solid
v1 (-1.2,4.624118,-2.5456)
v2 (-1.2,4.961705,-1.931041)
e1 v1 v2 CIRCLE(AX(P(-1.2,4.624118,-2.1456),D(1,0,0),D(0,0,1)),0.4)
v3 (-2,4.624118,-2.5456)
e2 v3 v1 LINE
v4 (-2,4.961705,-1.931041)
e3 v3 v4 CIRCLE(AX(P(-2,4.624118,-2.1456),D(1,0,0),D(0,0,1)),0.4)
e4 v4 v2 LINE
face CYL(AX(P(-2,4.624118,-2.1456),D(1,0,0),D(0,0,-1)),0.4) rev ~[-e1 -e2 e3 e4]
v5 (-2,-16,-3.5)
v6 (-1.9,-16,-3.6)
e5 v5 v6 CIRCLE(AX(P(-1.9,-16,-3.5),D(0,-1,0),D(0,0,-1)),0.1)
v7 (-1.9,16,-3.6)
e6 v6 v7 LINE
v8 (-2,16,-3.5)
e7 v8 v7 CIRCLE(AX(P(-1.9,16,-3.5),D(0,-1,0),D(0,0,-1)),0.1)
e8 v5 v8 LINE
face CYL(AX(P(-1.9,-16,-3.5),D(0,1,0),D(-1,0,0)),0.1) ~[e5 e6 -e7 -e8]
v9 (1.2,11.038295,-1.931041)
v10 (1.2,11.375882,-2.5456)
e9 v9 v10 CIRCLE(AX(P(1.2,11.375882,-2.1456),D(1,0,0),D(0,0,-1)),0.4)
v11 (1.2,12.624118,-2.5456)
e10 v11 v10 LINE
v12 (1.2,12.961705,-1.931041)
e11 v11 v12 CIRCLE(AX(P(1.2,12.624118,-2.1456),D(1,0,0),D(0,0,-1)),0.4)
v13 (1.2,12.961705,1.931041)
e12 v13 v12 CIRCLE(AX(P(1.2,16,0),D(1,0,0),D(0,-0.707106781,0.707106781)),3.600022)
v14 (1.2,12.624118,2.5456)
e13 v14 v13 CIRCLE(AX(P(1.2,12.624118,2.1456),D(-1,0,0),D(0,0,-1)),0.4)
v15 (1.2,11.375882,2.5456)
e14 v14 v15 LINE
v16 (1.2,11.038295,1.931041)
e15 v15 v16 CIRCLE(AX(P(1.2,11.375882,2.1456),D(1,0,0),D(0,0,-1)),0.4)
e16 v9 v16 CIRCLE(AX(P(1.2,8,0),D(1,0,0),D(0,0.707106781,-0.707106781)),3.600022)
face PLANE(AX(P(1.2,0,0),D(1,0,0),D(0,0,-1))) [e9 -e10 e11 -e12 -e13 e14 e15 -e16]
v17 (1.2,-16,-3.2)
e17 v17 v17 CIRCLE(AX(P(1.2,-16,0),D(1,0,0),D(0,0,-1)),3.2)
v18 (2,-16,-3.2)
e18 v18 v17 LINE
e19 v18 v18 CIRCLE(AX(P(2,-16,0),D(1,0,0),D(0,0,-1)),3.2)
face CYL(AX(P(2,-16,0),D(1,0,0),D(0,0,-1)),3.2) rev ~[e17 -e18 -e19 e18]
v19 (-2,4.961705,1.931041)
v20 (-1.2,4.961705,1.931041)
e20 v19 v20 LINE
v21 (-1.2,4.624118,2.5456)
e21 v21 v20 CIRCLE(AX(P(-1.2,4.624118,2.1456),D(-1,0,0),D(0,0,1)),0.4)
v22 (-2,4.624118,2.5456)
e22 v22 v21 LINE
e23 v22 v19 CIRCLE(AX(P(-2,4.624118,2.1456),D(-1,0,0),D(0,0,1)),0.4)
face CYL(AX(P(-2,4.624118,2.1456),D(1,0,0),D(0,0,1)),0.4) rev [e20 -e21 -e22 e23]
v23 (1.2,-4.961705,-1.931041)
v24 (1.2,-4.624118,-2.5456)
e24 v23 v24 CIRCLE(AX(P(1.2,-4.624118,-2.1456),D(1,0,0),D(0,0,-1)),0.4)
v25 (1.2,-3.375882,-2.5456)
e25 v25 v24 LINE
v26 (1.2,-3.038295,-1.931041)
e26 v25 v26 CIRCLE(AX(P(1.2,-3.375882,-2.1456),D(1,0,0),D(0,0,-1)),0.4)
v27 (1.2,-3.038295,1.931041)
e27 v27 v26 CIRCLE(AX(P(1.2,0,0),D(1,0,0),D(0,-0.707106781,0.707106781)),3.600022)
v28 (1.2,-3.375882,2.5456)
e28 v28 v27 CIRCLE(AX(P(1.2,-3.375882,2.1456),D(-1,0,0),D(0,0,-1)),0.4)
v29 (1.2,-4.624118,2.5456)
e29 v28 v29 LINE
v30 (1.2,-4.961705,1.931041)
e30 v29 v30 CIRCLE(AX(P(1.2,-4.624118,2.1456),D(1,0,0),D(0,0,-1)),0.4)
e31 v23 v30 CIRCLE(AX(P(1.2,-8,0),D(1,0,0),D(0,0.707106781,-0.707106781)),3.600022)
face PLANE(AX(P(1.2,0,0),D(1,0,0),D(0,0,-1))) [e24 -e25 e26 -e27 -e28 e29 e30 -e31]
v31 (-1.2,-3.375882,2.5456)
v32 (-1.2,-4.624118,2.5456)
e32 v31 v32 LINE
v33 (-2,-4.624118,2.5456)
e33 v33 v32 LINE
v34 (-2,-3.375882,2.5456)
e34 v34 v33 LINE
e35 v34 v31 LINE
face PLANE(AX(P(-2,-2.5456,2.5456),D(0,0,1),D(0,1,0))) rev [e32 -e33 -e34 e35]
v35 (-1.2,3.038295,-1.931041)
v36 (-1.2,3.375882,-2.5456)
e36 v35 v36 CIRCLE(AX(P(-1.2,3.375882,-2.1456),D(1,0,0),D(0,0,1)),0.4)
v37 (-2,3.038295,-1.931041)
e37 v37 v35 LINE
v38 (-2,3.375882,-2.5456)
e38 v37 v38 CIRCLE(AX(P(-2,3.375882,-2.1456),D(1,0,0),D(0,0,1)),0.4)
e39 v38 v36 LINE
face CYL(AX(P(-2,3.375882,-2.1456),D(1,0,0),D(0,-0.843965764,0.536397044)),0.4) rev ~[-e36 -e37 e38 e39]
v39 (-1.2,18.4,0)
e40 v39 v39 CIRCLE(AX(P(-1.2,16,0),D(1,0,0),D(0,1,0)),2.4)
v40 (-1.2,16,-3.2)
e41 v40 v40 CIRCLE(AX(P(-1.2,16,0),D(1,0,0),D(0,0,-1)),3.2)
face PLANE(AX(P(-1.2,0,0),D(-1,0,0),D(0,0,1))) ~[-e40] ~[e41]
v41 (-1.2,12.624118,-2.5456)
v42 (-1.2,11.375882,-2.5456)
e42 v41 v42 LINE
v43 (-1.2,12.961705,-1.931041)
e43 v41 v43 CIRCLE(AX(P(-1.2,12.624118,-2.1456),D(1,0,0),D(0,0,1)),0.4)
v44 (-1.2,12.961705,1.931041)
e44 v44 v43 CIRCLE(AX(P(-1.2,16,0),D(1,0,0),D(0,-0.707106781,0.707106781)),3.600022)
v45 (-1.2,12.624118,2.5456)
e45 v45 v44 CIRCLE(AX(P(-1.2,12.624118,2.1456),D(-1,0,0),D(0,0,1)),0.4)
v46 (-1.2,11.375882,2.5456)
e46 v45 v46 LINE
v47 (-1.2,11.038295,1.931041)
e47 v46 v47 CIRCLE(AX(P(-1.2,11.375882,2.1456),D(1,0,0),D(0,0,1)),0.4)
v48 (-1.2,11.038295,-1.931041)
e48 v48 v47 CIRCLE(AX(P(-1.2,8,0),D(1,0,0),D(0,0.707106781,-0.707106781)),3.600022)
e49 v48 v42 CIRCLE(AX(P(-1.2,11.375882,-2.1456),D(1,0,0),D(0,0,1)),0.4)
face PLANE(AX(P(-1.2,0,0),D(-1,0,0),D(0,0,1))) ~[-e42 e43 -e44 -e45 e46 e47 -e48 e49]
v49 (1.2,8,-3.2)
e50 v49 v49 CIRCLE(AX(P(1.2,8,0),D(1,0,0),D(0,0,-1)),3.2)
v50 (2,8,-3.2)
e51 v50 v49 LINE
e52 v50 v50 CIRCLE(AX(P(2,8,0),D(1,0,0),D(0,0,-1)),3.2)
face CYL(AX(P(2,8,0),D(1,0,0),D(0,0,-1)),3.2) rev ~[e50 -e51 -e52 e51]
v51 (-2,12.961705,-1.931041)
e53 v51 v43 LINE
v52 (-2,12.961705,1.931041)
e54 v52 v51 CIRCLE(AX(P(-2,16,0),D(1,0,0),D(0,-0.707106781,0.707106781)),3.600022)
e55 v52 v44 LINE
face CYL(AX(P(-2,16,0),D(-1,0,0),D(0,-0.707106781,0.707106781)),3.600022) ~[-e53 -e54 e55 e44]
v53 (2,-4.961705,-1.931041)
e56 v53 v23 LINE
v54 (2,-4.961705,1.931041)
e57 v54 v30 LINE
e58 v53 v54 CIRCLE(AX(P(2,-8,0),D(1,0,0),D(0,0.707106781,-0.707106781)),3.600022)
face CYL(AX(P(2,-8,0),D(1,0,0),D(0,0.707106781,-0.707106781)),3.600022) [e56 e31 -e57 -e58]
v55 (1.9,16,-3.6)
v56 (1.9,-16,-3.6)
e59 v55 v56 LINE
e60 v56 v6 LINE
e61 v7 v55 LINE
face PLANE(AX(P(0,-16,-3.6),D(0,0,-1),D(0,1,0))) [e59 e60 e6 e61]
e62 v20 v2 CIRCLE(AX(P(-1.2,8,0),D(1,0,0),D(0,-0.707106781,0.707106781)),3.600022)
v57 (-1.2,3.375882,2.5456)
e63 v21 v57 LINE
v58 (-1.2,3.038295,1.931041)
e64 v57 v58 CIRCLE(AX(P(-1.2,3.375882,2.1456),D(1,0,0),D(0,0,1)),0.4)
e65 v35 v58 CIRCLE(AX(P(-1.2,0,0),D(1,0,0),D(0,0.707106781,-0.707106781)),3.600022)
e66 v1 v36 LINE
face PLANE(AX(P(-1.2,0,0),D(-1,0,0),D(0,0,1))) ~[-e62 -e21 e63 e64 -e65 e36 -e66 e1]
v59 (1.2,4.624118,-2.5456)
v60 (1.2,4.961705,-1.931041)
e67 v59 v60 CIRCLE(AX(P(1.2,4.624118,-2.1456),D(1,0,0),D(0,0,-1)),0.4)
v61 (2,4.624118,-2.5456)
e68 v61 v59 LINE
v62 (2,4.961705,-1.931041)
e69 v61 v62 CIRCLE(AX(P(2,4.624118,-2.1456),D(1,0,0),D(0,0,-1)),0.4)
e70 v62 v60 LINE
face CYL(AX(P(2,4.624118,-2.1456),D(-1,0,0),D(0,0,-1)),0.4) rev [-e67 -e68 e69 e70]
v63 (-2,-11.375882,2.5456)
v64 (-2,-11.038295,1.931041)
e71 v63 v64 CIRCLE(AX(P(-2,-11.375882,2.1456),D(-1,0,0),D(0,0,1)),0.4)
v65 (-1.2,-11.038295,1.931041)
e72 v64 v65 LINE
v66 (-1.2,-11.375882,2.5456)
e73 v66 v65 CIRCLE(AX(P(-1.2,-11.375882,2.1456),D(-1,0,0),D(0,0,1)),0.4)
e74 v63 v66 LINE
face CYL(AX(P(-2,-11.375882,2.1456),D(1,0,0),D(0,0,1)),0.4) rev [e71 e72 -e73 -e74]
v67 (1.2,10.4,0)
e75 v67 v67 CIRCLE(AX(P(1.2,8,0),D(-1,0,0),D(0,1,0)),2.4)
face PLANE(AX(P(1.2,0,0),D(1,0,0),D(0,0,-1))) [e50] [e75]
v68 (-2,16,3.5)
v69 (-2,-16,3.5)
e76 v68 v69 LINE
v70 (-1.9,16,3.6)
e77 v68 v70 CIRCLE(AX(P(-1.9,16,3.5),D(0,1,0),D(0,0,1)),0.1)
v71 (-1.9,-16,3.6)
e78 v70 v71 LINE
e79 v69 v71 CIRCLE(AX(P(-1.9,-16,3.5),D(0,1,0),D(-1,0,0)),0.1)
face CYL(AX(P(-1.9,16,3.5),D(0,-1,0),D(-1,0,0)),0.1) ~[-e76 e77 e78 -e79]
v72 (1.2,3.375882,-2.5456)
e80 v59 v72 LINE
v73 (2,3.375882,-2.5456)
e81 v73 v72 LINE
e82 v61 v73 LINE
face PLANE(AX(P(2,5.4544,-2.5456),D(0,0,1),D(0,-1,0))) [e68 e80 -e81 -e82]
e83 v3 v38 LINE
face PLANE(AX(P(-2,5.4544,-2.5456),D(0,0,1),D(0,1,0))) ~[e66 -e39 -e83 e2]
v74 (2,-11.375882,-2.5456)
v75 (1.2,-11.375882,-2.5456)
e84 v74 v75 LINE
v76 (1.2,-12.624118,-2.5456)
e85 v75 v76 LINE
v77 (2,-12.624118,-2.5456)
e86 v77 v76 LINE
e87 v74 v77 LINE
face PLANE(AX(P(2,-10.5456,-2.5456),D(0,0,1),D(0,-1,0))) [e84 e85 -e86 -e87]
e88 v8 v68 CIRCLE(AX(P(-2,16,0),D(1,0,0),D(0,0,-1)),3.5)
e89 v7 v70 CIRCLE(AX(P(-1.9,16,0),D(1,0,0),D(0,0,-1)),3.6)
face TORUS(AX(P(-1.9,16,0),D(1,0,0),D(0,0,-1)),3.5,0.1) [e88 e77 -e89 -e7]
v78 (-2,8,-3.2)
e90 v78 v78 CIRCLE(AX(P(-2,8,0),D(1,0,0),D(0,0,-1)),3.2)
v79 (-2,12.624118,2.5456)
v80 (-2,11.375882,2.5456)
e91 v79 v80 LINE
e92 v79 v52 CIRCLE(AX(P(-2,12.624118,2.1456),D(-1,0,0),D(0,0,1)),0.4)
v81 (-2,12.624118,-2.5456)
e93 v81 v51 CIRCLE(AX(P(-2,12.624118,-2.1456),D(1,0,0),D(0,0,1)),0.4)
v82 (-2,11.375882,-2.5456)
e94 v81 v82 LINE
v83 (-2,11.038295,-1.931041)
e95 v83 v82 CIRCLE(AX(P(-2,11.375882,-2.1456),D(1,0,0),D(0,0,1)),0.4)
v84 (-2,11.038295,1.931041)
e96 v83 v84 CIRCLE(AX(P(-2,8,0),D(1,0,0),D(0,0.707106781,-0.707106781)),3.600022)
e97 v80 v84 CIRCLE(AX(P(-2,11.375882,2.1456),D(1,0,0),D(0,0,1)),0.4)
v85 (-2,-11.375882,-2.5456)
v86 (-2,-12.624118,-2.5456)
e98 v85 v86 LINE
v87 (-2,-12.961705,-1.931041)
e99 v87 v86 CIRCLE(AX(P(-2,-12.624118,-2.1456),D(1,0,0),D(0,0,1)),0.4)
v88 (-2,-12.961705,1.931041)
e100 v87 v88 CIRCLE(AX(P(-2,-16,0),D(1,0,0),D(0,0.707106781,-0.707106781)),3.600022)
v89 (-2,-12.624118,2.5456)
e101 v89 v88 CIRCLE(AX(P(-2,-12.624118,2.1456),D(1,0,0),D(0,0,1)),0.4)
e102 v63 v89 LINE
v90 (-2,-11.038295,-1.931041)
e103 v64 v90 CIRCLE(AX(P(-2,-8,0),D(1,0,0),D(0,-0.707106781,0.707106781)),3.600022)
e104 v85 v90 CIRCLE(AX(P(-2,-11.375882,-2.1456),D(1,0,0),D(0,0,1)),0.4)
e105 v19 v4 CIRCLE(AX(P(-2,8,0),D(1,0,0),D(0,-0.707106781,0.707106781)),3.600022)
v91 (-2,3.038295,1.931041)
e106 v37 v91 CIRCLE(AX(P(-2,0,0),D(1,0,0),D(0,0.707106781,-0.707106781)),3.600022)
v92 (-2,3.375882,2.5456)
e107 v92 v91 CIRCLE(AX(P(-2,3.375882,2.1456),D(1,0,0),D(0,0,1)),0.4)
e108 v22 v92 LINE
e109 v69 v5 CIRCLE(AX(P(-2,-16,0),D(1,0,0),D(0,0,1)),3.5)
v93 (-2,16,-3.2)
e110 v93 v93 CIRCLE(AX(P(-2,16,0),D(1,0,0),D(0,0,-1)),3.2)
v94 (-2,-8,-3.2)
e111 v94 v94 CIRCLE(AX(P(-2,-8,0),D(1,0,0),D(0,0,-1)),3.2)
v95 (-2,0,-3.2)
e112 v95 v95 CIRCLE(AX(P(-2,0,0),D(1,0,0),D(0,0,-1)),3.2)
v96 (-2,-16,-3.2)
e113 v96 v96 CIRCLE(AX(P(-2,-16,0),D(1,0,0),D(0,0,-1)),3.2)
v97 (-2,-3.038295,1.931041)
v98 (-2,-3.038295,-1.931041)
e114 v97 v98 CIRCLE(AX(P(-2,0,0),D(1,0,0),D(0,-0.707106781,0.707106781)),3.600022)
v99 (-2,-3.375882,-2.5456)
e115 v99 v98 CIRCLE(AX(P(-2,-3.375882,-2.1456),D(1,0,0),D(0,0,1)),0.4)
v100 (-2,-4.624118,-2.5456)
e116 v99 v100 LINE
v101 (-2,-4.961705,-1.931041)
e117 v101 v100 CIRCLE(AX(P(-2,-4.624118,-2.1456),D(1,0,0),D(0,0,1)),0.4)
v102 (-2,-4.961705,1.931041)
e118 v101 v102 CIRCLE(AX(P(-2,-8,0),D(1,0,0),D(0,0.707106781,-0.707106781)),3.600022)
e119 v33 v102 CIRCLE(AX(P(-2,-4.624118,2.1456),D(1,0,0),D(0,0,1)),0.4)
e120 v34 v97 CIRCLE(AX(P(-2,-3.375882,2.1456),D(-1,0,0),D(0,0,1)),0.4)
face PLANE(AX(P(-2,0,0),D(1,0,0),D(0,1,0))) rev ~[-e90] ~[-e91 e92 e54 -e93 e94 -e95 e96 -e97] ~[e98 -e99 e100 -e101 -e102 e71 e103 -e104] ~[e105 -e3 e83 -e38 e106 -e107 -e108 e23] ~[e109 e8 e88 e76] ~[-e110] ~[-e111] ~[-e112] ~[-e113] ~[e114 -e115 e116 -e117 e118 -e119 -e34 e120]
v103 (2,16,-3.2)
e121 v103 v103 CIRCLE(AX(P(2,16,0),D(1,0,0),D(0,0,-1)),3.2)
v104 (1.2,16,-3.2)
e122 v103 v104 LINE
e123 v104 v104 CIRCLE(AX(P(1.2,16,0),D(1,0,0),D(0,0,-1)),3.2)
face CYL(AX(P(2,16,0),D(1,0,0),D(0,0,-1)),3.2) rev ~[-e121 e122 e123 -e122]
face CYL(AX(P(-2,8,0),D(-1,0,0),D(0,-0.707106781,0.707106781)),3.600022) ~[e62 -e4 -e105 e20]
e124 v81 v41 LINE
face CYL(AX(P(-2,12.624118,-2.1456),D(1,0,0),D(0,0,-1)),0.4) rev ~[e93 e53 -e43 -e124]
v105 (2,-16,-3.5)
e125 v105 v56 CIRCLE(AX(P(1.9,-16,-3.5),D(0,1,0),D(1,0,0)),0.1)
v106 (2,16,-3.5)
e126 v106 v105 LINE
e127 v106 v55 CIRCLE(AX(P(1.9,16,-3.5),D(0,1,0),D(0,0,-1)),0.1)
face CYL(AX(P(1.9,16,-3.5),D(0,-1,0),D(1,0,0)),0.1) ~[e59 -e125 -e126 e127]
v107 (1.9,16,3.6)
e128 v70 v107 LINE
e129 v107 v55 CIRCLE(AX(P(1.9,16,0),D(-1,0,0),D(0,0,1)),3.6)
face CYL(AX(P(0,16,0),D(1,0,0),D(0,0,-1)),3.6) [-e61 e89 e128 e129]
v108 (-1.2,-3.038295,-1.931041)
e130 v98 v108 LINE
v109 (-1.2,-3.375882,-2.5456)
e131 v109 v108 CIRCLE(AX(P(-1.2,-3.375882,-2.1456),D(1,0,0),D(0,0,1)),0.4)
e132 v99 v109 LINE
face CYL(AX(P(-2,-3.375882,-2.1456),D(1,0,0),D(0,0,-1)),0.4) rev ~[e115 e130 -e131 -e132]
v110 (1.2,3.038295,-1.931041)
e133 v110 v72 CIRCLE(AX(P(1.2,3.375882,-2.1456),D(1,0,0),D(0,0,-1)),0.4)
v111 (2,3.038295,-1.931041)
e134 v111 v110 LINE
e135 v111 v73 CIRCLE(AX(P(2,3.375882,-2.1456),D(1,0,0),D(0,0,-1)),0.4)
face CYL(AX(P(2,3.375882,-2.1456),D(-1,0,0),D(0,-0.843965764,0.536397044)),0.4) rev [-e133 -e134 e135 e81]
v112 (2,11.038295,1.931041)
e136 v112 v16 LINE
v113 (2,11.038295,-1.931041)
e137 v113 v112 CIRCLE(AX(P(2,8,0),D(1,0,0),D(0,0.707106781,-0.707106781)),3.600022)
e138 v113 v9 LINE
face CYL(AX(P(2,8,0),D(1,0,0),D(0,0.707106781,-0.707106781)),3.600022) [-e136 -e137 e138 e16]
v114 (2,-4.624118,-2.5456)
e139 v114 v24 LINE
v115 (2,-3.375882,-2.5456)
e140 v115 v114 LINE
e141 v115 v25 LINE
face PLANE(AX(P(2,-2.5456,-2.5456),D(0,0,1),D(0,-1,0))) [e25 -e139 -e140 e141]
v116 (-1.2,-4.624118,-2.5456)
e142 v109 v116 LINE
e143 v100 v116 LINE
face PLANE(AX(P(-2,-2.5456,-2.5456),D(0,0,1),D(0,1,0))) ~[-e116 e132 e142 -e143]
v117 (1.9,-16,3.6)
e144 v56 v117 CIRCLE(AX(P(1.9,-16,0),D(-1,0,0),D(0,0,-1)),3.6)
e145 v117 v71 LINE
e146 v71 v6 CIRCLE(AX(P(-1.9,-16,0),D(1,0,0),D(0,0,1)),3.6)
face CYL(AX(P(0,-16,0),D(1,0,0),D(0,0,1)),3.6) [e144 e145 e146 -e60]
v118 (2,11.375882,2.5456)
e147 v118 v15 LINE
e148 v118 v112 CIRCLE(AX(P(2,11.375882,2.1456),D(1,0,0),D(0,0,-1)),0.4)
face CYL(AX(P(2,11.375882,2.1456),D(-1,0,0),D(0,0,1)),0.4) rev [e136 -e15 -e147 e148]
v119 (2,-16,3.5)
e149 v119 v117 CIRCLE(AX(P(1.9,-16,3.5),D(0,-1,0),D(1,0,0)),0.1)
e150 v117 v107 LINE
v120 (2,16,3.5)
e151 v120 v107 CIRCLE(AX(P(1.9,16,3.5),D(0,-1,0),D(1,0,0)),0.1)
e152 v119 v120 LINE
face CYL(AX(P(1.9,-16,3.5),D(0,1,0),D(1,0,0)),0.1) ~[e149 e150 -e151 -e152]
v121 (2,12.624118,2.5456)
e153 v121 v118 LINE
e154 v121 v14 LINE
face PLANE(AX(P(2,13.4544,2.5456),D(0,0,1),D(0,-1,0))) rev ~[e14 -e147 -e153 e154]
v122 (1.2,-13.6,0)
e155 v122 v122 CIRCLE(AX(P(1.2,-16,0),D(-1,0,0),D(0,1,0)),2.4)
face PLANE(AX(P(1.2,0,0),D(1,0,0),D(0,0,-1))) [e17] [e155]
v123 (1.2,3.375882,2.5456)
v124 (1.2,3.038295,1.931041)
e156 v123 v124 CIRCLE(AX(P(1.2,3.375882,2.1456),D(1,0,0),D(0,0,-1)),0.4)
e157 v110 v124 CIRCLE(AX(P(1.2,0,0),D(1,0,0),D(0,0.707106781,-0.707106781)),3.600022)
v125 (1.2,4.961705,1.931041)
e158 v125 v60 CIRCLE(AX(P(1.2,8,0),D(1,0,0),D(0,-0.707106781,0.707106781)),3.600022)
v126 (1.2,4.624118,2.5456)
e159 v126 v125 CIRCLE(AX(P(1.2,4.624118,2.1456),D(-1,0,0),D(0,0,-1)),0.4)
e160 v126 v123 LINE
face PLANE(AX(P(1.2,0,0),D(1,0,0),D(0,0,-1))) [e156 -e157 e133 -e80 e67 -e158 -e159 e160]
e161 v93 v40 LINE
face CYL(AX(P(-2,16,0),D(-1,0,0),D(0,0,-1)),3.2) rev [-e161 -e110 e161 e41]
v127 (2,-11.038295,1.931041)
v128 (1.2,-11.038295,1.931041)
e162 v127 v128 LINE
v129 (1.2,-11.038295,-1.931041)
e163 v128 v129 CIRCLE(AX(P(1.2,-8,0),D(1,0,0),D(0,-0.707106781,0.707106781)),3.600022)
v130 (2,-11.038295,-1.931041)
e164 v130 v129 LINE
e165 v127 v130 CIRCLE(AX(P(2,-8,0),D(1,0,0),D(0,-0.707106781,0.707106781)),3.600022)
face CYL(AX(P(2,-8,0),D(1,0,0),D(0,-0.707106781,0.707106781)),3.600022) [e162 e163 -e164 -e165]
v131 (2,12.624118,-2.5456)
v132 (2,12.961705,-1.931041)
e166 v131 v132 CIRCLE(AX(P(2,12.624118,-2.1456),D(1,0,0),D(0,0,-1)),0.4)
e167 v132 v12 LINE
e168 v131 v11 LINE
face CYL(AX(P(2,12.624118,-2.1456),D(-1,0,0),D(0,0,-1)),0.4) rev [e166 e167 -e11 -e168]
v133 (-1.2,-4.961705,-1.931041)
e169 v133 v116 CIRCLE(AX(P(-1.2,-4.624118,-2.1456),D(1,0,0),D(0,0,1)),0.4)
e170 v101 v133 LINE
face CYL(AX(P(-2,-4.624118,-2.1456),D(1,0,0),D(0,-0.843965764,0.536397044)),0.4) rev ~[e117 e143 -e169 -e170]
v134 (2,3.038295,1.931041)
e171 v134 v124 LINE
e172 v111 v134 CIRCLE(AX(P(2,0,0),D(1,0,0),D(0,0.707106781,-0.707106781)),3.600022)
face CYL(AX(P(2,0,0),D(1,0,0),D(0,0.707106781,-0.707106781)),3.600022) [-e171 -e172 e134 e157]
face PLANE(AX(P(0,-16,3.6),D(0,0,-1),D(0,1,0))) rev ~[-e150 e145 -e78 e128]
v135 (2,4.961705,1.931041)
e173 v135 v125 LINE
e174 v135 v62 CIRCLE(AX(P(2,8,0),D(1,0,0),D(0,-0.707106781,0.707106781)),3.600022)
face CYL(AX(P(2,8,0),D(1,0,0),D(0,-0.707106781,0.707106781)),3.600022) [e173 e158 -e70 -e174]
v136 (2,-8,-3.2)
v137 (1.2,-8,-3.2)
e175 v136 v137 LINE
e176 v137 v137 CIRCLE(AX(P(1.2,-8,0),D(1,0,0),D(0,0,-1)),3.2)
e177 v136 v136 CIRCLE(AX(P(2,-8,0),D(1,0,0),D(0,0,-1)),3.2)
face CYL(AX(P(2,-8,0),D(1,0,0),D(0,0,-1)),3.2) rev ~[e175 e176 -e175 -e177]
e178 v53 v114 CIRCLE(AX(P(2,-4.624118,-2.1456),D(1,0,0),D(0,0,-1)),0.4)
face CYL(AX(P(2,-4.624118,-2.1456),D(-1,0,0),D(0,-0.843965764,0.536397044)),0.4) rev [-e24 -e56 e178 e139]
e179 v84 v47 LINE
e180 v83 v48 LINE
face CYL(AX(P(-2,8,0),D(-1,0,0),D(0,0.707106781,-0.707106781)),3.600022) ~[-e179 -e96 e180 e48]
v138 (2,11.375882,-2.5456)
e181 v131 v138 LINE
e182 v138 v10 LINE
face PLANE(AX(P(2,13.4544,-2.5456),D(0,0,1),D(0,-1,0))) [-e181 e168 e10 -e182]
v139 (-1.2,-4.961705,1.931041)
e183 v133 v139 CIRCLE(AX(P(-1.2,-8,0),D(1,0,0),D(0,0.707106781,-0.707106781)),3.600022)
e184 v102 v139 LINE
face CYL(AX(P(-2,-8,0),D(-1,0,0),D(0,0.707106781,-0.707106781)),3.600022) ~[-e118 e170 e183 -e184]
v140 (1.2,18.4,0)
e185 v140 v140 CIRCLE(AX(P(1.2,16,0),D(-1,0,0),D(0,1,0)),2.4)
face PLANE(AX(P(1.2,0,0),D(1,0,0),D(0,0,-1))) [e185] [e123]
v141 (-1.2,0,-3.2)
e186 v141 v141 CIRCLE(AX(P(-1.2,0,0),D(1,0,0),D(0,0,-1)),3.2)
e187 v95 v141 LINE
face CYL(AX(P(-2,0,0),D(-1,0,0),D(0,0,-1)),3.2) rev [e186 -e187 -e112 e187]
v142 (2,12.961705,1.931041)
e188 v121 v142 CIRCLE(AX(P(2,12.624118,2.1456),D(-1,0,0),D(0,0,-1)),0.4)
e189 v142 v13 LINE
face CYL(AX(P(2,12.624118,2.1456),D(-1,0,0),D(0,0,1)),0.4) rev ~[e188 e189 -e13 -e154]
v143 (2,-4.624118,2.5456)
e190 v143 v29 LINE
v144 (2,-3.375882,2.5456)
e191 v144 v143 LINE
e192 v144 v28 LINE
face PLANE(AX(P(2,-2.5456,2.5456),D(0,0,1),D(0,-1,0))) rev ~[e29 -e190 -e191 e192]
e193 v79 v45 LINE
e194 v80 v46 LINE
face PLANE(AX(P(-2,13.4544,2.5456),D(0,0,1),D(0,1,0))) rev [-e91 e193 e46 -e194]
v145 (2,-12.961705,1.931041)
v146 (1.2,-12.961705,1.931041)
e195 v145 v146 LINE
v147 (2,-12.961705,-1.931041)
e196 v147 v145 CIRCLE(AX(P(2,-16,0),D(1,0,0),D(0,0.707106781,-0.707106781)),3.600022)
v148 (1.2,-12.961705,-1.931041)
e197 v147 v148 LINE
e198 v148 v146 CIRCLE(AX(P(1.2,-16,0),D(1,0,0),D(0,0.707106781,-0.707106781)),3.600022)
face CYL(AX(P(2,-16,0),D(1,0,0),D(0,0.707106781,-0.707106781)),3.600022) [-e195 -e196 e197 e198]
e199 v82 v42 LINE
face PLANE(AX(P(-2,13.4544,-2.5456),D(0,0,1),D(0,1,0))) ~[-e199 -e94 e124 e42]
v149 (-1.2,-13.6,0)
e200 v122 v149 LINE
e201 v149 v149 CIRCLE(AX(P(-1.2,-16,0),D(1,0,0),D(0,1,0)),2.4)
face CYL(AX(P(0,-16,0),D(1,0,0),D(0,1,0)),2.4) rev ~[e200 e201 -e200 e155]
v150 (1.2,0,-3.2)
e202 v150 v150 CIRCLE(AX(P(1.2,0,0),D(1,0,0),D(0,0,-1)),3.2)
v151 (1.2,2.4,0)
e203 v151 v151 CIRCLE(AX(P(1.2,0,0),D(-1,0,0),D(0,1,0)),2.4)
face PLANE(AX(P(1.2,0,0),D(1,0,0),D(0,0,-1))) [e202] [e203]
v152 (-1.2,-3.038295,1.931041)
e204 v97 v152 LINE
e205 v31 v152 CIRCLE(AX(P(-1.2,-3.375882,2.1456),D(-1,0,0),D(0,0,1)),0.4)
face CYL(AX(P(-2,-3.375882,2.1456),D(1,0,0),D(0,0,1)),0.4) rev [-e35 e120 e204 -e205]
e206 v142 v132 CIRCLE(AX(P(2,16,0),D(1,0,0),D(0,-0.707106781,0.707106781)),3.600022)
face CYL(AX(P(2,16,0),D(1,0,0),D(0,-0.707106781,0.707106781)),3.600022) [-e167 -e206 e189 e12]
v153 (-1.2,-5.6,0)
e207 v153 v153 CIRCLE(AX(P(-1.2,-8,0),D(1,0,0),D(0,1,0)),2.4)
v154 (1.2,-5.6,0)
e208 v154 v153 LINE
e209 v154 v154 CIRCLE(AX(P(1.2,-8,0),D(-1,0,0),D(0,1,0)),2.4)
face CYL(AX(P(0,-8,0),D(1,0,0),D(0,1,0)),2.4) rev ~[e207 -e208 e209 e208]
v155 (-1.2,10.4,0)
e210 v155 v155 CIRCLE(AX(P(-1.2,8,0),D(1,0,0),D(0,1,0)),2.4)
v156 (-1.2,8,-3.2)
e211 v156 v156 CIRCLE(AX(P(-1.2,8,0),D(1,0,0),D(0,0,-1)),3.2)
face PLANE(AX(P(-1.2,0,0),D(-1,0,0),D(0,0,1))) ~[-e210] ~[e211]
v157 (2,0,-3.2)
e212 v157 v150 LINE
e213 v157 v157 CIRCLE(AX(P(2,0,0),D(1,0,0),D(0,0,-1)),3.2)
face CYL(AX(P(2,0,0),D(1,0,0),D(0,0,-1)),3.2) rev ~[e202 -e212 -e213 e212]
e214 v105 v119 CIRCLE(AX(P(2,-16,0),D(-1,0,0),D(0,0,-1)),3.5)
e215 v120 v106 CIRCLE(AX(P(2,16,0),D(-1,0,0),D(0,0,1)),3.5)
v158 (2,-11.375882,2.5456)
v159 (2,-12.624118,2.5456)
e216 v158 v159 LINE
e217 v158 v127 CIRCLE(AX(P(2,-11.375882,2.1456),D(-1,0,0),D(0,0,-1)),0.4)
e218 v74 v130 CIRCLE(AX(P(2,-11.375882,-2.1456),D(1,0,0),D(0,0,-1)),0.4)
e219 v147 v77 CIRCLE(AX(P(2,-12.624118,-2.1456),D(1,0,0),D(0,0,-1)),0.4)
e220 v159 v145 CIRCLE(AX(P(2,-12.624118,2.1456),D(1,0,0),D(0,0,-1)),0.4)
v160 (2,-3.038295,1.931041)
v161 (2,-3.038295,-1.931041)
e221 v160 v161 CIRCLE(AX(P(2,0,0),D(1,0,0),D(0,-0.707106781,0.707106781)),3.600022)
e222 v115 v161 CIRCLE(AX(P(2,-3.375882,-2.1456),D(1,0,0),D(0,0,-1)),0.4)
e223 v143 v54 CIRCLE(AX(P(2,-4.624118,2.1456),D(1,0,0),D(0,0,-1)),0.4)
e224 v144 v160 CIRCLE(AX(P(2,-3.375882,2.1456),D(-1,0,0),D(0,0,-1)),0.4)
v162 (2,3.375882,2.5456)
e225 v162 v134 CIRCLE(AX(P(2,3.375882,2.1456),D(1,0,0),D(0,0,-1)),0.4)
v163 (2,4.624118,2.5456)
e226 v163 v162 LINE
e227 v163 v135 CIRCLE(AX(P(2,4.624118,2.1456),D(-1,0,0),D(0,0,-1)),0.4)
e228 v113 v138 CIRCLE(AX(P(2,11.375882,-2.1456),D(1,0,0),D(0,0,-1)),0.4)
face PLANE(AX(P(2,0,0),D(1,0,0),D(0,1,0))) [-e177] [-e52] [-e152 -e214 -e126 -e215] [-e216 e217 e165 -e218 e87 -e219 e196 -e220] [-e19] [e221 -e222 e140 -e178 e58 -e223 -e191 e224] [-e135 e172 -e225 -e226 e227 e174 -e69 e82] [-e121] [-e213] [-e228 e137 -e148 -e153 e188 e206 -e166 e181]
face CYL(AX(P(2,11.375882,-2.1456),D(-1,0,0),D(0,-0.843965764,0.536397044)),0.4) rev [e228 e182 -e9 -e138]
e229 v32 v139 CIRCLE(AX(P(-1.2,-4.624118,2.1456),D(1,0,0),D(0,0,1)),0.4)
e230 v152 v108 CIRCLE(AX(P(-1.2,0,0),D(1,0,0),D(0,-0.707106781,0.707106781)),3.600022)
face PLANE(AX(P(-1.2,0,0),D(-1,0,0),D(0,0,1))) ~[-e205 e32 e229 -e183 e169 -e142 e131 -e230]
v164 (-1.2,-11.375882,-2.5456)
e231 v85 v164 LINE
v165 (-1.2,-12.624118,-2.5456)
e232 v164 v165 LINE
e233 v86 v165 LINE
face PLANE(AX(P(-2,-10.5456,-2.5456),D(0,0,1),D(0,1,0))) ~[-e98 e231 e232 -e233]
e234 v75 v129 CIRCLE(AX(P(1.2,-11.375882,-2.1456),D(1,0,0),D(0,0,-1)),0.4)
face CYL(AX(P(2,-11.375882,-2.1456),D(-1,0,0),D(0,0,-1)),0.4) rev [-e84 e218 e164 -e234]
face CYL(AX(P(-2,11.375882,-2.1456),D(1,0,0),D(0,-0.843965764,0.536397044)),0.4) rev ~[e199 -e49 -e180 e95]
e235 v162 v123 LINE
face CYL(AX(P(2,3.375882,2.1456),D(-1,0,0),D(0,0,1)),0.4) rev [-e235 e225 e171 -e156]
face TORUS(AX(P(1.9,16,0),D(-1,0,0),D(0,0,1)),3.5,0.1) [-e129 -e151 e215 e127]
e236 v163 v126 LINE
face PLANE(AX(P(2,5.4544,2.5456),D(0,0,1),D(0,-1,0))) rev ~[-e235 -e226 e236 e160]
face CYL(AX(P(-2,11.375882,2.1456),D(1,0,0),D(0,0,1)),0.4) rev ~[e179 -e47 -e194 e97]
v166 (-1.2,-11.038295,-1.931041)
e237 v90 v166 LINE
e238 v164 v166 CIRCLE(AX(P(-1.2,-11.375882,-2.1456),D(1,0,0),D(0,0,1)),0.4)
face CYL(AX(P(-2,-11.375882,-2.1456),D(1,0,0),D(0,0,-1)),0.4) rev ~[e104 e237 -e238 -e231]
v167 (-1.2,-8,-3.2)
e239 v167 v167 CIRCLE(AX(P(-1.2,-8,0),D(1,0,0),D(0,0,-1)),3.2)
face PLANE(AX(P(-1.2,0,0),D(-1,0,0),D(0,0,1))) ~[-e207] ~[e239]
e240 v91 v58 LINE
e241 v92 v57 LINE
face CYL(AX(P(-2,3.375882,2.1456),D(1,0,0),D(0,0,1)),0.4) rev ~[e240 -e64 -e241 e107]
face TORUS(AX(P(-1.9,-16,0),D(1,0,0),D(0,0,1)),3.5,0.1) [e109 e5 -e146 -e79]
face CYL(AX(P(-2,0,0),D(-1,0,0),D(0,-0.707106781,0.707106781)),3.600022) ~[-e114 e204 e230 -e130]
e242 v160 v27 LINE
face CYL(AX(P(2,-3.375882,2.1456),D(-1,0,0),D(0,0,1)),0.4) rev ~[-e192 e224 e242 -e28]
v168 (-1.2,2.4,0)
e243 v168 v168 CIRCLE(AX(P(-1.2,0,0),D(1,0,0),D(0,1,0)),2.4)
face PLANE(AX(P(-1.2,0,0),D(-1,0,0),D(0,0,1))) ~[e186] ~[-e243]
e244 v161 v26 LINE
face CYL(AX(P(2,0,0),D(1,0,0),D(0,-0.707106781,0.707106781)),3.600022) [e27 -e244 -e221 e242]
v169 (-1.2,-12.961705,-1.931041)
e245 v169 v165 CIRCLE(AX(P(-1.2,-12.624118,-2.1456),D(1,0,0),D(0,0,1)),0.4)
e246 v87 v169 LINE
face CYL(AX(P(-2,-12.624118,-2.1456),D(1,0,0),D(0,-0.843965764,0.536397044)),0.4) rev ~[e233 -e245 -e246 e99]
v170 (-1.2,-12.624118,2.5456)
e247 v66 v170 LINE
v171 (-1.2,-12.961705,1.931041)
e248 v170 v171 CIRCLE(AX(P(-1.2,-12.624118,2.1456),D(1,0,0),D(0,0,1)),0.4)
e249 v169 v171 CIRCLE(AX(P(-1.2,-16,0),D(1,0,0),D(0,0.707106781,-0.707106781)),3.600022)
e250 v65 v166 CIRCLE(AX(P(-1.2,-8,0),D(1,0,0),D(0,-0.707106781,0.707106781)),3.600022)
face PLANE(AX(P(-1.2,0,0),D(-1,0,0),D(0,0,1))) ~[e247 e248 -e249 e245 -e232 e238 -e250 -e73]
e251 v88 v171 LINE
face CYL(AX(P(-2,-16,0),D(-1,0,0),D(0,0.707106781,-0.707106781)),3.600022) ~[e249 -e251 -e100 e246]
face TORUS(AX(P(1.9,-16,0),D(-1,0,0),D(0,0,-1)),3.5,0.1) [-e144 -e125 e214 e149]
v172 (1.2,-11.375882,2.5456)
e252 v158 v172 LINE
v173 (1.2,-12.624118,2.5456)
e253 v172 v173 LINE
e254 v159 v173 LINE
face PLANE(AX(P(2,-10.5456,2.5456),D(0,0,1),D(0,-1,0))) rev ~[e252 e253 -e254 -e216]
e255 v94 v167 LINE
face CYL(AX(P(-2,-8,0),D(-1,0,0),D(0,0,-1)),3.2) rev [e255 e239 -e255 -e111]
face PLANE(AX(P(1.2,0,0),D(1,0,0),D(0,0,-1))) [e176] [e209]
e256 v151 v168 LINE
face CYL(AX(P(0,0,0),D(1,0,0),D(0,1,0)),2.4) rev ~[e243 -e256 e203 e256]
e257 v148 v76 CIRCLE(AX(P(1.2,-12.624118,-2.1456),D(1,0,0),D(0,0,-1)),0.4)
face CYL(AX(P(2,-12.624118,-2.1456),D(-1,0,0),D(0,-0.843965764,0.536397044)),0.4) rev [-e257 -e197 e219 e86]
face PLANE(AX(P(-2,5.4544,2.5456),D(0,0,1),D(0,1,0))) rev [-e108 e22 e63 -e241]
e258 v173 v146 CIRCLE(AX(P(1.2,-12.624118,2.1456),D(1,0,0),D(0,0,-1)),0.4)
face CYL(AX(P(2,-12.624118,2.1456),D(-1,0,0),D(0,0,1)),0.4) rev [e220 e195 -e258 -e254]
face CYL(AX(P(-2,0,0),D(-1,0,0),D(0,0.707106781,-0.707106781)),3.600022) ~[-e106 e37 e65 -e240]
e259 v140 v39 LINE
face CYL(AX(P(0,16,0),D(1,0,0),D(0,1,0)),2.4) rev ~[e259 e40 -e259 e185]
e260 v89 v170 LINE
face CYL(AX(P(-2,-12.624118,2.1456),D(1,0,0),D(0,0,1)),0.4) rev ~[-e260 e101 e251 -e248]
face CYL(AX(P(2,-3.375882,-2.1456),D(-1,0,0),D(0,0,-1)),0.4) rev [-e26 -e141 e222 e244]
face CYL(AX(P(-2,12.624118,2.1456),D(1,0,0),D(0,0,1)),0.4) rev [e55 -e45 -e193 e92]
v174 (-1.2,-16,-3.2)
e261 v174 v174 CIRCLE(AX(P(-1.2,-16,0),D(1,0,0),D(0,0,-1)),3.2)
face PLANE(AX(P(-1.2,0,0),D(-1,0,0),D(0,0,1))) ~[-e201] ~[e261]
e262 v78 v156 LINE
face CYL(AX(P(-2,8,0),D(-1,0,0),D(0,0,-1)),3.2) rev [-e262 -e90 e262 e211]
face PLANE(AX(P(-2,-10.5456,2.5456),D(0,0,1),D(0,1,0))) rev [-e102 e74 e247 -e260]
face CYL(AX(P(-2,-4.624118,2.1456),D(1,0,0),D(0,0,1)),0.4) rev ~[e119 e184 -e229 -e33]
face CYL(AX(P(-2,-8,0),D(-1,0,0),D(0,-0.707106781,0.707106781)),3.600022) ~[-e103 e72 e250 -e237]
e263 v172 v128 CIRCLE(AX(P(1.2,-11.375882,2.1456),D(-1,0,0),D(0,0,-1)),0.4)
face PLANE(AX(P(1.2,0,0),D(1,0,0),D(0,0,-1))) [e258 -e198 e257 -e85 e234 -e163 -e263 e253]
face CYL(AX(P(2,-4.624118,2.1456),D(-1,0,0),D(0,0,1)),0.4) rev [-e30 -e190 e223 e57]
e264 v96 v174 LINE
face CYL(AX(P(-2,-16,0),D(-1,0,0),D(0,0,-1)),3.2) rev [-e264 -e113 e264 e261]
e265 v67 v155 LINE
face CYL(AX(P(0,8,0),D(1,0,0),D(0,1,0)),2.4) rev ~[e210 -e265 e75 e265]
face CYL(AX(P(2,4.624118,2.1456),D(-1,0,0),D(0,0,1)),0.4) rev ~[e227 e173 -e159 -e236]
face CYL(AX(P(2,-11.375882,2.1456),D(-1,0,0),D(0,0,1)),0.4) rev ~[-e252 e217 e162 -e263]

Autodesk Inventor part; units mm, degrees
ref_plane "YZ Plane" through (0, 0, 0) normal (1, 0, 0) x (0, 1, 0)
ref_plane "XZ Plane" through (0, 0, 0) normal (0, 1, 0) x (-1, 0, 0)
ref_plane "XY Plane" through (0, 0, 0) normal (0, 0, 1) x (1, 0, 0)
sketch "Sketch3" plane through (0, 0, 0) normal (1, 0, 0) x (0, 1, 0)
  arc A0 (16, -3.6) -> (16, 3.6) centre (16, 0) ccw
  line L0 (-16, -3.6) -> (16, -3.6)
  line L1 (-16, 3.6) -> (16, 3.6)
  arc A1 (-16, 3.6) -> (-16, -3.6) centre (-16, 0) ccw
  line L2 (0, -3.6) -> (0, 3.6) construction
  circle A2 centre (-8, 0) radius 3.2
  circle A3 centre (0, 0) radius 3.2
  line L3 (0, 0) -> (-8, 0) construction
  line L4 (-8, 0) -> (-16, 0) construction
  circle A4 centre (-8, 0) radius 2.4
  circle A5 centre (0, 0) radius 2.4
  circle A6 centre (-16, 0) radius 3.2
  circle A7 centre (-16, 0) radius 2.4
  circle A8 centre (8, 0) radius 3.2
  circle A9 centre (8, 0) radius 2.4
  circle A10 centre (16, 0) radius 3.2
  circle A11 centre (16, 0) radius 2.4
  line L5 (0, 0) -> (8, 0) construction
  line L6 (8, 0) -> (16, 0) construction
  dimension "d49" = 7.2
  dimension "d59" = 6.4
  dimension "d60" = 4.8
  dimension "d64" = 8
extrude "Extrusion4" add sketch "Sketch3" along normal mid plane 4 contours L0 A1 L1 A0 | A2 | A3 | A6 | A8 | A10
sketch "Sketch11" plane through (2, 0, 0) normal (1, 0, 0) x (0, 0, -1)
  circle A0 centre (0, 0) radius 2.4 projected
  circle A1 centre (0, -8) radius 2.4 projected
  circle A2 centre (0, 0) radius 3.2
  circle A3 centre (0, -8) radius 3.2
  circle A4 centre (0, 8) radius 2.4 projected
  arc A5 (3.6, 16) -> (-3.6, 16) centre (0, 16) ccw projected
  arc A6 (-3.6, -16) -> (3.6, -16) centre (0, -16) ccw projected
  circle A7 centre (0, -16) radius 3.2
  circle A8 centre (0, 8) radius 3.2
  circle A9 centre (0, 16) radius 3.2
  circle A10 centre (0, 16) radius 2.4 projected
  line L0 (3.6, 16) -> (3.6, -16) projected
  line L1 (-3.6, -16) -> (-3.6, 16) projected
  line L2 (-2.5456, 13.4544) -> (-2.5456, 10.5456)
  line L3 (2.5456, 13.4544) -> (2.5456, 10.5456)
  arc A11 (-2.5456, 13.4544) -> (2.5456, 13.4544) centre (0, 16) ccw
  arc A12 (2.5456, 10.5456) -> (-2.5456, 10.5456) centre (0, 8) ccw
  line L4 (0, 16) -> (-2.5456, 13.4544) construction
  line L5 (-2.5456, 5.4544) -> (-2.5456, 2.5456)
  line L6 (2.5456, 5.4544) -> (2.5456, 2.5456)
  arc A13 (-2.5456, 5.4544) -> (2.5456, 5.4544) centre (0, 8) ccw
  arc A14 (2.5456, 2.5456) -> (-2.5456, 2.5456) centre (0, 0) ccw
  line L7 (-2.5456, -2.5456) -> (-2.5456, -5.4544)
  line L8 (2.5456, -2.5456) -> (2.5456, -5.4544)
  arc A15 (-2.5456, -2.5456) -> (2.5456, -2.5456) centre (0, 0) ccw
  arc A16 (2.5456, -5.4544) -> (-2.5456, -5.4544) centre (0, -8) ccw
  line L9 (-2.5456, -10.5456) -> (-2.5456, -13.4544)
  line L10 (2.5456, -10.5456) -> (2.5456, -13.4544)
  arc A17 (-2.5456, -10.5456) -> (2.5456, -10.5456) centre (0, -8) ccw
  arc A18 (2.5456, -13.4544) -> (-2.5456, -13.4544) centre (0, -16) ccw
  dimension "d61" = 6.4
  dimension "d65" = 45
  dimension "d68" = 8
extrude "Extrusion16" cut sketch "Sketch11" against normal blind 0.8 contours A0 | A1 | A2 | A3 | A4 | A7 | A8 | A9 | A10
extrude "Extrusion17" cut sketch "Sketch11" against normal blind 0.8 contours A11 L3 A12 L2 | A13 L6 A14 L5 | A15 L8 A16 L7 | A17 L10 A18 L9
mirror "Mirror3" about plane through (0, 0, 0) normal (1, 0, 0) of "Extrusion16", "Extrusion17"
fillet "Fillet1" radius 0.1 6 edges at (-2, 19.6, 0) (-2, 0, 3.6) (-2, 0, -3.6) (2, 0, 3.6) (2, 0, -3.6) (2, 19.6, 0)
fillet "Fillet1" radius 0.4 32 edges at (1.6, -13.4544, -2.5456) (1.6, -10.5456, -2.5456) (1.6, -10.5456, 2.5456) (1.6, -13.4544, 2.5456) (1.6, -5.4544, 2.5456) (1.6, -2.5456, 2.5456) (1.6, -2.5456, -2.5456) (1.6, -5.4544, -2.5456) (1.6, 2.5456, 2.5456) (1.6, 5.4544, 2.5456) (1.6, 5.4544, -2.5456) (1.6, 2.5456, -2.5456) (1.6, 10.5456, 2.5456) (1.6, 13.4544, 2.5456) (1.6, 13.4544, -2.5456) (1.6, 10.5456, -2.5456) (-1.6, -10.5456, -2.5456) (-1.6, -13.4544, -2.5456) (-1.6, -10.5456, 2.5456) (-1.6, -13.4544, 2.5456) (-1.6, -2.5456, 2.5456) (-1.6, -5.4544, 2.5456) (-1.6, -5.4544, -2.5456) (-1.6, -2.5456, -2.5456) (-1.6, 2.5456, -2.5456) (-1.6, 5.4544, -2.5456) (-1.6, 5.4544, 2.5456) (-1.6, 2.5456, 2.5456) (-1.6, 13.4544, 2.5456) (-1.6, 10.5456, 2.5456) (-1.6, 13.4544, -2.5456) (-1.6, 10.5456, -2.5456)
equation "\"d49\" = tlad"
equation "\"d59\" = tsd"
equation "\"d60\" = tpd"
equation "\"d64\" = lu"
equation "\"d15\" = 0.5 * lu"
equation "\"d61\" = tsd"
equation "\"d68\" = lu"
equation "\"d62\" = tsl"
equation "\"d73\" = 0.5 * lu - 2 * wall"
equation "\"d56\" = lf"
equation "\"d75\" = tf"
equation "\"tlad\" = 7.2"
equation "\"tsd\" = 6.4"
equation "\"tpd\" = 4.8"
equation "\"lu\" = 8"
equation "\"tsl\" = 0.8"
equation "\"wall\" = 1.6"
equation "\"lf\" = 0.1"
equation "\"tf\" = 0.4"
properties part number "32017-DKBluishGray" material "ABS Plastic"
